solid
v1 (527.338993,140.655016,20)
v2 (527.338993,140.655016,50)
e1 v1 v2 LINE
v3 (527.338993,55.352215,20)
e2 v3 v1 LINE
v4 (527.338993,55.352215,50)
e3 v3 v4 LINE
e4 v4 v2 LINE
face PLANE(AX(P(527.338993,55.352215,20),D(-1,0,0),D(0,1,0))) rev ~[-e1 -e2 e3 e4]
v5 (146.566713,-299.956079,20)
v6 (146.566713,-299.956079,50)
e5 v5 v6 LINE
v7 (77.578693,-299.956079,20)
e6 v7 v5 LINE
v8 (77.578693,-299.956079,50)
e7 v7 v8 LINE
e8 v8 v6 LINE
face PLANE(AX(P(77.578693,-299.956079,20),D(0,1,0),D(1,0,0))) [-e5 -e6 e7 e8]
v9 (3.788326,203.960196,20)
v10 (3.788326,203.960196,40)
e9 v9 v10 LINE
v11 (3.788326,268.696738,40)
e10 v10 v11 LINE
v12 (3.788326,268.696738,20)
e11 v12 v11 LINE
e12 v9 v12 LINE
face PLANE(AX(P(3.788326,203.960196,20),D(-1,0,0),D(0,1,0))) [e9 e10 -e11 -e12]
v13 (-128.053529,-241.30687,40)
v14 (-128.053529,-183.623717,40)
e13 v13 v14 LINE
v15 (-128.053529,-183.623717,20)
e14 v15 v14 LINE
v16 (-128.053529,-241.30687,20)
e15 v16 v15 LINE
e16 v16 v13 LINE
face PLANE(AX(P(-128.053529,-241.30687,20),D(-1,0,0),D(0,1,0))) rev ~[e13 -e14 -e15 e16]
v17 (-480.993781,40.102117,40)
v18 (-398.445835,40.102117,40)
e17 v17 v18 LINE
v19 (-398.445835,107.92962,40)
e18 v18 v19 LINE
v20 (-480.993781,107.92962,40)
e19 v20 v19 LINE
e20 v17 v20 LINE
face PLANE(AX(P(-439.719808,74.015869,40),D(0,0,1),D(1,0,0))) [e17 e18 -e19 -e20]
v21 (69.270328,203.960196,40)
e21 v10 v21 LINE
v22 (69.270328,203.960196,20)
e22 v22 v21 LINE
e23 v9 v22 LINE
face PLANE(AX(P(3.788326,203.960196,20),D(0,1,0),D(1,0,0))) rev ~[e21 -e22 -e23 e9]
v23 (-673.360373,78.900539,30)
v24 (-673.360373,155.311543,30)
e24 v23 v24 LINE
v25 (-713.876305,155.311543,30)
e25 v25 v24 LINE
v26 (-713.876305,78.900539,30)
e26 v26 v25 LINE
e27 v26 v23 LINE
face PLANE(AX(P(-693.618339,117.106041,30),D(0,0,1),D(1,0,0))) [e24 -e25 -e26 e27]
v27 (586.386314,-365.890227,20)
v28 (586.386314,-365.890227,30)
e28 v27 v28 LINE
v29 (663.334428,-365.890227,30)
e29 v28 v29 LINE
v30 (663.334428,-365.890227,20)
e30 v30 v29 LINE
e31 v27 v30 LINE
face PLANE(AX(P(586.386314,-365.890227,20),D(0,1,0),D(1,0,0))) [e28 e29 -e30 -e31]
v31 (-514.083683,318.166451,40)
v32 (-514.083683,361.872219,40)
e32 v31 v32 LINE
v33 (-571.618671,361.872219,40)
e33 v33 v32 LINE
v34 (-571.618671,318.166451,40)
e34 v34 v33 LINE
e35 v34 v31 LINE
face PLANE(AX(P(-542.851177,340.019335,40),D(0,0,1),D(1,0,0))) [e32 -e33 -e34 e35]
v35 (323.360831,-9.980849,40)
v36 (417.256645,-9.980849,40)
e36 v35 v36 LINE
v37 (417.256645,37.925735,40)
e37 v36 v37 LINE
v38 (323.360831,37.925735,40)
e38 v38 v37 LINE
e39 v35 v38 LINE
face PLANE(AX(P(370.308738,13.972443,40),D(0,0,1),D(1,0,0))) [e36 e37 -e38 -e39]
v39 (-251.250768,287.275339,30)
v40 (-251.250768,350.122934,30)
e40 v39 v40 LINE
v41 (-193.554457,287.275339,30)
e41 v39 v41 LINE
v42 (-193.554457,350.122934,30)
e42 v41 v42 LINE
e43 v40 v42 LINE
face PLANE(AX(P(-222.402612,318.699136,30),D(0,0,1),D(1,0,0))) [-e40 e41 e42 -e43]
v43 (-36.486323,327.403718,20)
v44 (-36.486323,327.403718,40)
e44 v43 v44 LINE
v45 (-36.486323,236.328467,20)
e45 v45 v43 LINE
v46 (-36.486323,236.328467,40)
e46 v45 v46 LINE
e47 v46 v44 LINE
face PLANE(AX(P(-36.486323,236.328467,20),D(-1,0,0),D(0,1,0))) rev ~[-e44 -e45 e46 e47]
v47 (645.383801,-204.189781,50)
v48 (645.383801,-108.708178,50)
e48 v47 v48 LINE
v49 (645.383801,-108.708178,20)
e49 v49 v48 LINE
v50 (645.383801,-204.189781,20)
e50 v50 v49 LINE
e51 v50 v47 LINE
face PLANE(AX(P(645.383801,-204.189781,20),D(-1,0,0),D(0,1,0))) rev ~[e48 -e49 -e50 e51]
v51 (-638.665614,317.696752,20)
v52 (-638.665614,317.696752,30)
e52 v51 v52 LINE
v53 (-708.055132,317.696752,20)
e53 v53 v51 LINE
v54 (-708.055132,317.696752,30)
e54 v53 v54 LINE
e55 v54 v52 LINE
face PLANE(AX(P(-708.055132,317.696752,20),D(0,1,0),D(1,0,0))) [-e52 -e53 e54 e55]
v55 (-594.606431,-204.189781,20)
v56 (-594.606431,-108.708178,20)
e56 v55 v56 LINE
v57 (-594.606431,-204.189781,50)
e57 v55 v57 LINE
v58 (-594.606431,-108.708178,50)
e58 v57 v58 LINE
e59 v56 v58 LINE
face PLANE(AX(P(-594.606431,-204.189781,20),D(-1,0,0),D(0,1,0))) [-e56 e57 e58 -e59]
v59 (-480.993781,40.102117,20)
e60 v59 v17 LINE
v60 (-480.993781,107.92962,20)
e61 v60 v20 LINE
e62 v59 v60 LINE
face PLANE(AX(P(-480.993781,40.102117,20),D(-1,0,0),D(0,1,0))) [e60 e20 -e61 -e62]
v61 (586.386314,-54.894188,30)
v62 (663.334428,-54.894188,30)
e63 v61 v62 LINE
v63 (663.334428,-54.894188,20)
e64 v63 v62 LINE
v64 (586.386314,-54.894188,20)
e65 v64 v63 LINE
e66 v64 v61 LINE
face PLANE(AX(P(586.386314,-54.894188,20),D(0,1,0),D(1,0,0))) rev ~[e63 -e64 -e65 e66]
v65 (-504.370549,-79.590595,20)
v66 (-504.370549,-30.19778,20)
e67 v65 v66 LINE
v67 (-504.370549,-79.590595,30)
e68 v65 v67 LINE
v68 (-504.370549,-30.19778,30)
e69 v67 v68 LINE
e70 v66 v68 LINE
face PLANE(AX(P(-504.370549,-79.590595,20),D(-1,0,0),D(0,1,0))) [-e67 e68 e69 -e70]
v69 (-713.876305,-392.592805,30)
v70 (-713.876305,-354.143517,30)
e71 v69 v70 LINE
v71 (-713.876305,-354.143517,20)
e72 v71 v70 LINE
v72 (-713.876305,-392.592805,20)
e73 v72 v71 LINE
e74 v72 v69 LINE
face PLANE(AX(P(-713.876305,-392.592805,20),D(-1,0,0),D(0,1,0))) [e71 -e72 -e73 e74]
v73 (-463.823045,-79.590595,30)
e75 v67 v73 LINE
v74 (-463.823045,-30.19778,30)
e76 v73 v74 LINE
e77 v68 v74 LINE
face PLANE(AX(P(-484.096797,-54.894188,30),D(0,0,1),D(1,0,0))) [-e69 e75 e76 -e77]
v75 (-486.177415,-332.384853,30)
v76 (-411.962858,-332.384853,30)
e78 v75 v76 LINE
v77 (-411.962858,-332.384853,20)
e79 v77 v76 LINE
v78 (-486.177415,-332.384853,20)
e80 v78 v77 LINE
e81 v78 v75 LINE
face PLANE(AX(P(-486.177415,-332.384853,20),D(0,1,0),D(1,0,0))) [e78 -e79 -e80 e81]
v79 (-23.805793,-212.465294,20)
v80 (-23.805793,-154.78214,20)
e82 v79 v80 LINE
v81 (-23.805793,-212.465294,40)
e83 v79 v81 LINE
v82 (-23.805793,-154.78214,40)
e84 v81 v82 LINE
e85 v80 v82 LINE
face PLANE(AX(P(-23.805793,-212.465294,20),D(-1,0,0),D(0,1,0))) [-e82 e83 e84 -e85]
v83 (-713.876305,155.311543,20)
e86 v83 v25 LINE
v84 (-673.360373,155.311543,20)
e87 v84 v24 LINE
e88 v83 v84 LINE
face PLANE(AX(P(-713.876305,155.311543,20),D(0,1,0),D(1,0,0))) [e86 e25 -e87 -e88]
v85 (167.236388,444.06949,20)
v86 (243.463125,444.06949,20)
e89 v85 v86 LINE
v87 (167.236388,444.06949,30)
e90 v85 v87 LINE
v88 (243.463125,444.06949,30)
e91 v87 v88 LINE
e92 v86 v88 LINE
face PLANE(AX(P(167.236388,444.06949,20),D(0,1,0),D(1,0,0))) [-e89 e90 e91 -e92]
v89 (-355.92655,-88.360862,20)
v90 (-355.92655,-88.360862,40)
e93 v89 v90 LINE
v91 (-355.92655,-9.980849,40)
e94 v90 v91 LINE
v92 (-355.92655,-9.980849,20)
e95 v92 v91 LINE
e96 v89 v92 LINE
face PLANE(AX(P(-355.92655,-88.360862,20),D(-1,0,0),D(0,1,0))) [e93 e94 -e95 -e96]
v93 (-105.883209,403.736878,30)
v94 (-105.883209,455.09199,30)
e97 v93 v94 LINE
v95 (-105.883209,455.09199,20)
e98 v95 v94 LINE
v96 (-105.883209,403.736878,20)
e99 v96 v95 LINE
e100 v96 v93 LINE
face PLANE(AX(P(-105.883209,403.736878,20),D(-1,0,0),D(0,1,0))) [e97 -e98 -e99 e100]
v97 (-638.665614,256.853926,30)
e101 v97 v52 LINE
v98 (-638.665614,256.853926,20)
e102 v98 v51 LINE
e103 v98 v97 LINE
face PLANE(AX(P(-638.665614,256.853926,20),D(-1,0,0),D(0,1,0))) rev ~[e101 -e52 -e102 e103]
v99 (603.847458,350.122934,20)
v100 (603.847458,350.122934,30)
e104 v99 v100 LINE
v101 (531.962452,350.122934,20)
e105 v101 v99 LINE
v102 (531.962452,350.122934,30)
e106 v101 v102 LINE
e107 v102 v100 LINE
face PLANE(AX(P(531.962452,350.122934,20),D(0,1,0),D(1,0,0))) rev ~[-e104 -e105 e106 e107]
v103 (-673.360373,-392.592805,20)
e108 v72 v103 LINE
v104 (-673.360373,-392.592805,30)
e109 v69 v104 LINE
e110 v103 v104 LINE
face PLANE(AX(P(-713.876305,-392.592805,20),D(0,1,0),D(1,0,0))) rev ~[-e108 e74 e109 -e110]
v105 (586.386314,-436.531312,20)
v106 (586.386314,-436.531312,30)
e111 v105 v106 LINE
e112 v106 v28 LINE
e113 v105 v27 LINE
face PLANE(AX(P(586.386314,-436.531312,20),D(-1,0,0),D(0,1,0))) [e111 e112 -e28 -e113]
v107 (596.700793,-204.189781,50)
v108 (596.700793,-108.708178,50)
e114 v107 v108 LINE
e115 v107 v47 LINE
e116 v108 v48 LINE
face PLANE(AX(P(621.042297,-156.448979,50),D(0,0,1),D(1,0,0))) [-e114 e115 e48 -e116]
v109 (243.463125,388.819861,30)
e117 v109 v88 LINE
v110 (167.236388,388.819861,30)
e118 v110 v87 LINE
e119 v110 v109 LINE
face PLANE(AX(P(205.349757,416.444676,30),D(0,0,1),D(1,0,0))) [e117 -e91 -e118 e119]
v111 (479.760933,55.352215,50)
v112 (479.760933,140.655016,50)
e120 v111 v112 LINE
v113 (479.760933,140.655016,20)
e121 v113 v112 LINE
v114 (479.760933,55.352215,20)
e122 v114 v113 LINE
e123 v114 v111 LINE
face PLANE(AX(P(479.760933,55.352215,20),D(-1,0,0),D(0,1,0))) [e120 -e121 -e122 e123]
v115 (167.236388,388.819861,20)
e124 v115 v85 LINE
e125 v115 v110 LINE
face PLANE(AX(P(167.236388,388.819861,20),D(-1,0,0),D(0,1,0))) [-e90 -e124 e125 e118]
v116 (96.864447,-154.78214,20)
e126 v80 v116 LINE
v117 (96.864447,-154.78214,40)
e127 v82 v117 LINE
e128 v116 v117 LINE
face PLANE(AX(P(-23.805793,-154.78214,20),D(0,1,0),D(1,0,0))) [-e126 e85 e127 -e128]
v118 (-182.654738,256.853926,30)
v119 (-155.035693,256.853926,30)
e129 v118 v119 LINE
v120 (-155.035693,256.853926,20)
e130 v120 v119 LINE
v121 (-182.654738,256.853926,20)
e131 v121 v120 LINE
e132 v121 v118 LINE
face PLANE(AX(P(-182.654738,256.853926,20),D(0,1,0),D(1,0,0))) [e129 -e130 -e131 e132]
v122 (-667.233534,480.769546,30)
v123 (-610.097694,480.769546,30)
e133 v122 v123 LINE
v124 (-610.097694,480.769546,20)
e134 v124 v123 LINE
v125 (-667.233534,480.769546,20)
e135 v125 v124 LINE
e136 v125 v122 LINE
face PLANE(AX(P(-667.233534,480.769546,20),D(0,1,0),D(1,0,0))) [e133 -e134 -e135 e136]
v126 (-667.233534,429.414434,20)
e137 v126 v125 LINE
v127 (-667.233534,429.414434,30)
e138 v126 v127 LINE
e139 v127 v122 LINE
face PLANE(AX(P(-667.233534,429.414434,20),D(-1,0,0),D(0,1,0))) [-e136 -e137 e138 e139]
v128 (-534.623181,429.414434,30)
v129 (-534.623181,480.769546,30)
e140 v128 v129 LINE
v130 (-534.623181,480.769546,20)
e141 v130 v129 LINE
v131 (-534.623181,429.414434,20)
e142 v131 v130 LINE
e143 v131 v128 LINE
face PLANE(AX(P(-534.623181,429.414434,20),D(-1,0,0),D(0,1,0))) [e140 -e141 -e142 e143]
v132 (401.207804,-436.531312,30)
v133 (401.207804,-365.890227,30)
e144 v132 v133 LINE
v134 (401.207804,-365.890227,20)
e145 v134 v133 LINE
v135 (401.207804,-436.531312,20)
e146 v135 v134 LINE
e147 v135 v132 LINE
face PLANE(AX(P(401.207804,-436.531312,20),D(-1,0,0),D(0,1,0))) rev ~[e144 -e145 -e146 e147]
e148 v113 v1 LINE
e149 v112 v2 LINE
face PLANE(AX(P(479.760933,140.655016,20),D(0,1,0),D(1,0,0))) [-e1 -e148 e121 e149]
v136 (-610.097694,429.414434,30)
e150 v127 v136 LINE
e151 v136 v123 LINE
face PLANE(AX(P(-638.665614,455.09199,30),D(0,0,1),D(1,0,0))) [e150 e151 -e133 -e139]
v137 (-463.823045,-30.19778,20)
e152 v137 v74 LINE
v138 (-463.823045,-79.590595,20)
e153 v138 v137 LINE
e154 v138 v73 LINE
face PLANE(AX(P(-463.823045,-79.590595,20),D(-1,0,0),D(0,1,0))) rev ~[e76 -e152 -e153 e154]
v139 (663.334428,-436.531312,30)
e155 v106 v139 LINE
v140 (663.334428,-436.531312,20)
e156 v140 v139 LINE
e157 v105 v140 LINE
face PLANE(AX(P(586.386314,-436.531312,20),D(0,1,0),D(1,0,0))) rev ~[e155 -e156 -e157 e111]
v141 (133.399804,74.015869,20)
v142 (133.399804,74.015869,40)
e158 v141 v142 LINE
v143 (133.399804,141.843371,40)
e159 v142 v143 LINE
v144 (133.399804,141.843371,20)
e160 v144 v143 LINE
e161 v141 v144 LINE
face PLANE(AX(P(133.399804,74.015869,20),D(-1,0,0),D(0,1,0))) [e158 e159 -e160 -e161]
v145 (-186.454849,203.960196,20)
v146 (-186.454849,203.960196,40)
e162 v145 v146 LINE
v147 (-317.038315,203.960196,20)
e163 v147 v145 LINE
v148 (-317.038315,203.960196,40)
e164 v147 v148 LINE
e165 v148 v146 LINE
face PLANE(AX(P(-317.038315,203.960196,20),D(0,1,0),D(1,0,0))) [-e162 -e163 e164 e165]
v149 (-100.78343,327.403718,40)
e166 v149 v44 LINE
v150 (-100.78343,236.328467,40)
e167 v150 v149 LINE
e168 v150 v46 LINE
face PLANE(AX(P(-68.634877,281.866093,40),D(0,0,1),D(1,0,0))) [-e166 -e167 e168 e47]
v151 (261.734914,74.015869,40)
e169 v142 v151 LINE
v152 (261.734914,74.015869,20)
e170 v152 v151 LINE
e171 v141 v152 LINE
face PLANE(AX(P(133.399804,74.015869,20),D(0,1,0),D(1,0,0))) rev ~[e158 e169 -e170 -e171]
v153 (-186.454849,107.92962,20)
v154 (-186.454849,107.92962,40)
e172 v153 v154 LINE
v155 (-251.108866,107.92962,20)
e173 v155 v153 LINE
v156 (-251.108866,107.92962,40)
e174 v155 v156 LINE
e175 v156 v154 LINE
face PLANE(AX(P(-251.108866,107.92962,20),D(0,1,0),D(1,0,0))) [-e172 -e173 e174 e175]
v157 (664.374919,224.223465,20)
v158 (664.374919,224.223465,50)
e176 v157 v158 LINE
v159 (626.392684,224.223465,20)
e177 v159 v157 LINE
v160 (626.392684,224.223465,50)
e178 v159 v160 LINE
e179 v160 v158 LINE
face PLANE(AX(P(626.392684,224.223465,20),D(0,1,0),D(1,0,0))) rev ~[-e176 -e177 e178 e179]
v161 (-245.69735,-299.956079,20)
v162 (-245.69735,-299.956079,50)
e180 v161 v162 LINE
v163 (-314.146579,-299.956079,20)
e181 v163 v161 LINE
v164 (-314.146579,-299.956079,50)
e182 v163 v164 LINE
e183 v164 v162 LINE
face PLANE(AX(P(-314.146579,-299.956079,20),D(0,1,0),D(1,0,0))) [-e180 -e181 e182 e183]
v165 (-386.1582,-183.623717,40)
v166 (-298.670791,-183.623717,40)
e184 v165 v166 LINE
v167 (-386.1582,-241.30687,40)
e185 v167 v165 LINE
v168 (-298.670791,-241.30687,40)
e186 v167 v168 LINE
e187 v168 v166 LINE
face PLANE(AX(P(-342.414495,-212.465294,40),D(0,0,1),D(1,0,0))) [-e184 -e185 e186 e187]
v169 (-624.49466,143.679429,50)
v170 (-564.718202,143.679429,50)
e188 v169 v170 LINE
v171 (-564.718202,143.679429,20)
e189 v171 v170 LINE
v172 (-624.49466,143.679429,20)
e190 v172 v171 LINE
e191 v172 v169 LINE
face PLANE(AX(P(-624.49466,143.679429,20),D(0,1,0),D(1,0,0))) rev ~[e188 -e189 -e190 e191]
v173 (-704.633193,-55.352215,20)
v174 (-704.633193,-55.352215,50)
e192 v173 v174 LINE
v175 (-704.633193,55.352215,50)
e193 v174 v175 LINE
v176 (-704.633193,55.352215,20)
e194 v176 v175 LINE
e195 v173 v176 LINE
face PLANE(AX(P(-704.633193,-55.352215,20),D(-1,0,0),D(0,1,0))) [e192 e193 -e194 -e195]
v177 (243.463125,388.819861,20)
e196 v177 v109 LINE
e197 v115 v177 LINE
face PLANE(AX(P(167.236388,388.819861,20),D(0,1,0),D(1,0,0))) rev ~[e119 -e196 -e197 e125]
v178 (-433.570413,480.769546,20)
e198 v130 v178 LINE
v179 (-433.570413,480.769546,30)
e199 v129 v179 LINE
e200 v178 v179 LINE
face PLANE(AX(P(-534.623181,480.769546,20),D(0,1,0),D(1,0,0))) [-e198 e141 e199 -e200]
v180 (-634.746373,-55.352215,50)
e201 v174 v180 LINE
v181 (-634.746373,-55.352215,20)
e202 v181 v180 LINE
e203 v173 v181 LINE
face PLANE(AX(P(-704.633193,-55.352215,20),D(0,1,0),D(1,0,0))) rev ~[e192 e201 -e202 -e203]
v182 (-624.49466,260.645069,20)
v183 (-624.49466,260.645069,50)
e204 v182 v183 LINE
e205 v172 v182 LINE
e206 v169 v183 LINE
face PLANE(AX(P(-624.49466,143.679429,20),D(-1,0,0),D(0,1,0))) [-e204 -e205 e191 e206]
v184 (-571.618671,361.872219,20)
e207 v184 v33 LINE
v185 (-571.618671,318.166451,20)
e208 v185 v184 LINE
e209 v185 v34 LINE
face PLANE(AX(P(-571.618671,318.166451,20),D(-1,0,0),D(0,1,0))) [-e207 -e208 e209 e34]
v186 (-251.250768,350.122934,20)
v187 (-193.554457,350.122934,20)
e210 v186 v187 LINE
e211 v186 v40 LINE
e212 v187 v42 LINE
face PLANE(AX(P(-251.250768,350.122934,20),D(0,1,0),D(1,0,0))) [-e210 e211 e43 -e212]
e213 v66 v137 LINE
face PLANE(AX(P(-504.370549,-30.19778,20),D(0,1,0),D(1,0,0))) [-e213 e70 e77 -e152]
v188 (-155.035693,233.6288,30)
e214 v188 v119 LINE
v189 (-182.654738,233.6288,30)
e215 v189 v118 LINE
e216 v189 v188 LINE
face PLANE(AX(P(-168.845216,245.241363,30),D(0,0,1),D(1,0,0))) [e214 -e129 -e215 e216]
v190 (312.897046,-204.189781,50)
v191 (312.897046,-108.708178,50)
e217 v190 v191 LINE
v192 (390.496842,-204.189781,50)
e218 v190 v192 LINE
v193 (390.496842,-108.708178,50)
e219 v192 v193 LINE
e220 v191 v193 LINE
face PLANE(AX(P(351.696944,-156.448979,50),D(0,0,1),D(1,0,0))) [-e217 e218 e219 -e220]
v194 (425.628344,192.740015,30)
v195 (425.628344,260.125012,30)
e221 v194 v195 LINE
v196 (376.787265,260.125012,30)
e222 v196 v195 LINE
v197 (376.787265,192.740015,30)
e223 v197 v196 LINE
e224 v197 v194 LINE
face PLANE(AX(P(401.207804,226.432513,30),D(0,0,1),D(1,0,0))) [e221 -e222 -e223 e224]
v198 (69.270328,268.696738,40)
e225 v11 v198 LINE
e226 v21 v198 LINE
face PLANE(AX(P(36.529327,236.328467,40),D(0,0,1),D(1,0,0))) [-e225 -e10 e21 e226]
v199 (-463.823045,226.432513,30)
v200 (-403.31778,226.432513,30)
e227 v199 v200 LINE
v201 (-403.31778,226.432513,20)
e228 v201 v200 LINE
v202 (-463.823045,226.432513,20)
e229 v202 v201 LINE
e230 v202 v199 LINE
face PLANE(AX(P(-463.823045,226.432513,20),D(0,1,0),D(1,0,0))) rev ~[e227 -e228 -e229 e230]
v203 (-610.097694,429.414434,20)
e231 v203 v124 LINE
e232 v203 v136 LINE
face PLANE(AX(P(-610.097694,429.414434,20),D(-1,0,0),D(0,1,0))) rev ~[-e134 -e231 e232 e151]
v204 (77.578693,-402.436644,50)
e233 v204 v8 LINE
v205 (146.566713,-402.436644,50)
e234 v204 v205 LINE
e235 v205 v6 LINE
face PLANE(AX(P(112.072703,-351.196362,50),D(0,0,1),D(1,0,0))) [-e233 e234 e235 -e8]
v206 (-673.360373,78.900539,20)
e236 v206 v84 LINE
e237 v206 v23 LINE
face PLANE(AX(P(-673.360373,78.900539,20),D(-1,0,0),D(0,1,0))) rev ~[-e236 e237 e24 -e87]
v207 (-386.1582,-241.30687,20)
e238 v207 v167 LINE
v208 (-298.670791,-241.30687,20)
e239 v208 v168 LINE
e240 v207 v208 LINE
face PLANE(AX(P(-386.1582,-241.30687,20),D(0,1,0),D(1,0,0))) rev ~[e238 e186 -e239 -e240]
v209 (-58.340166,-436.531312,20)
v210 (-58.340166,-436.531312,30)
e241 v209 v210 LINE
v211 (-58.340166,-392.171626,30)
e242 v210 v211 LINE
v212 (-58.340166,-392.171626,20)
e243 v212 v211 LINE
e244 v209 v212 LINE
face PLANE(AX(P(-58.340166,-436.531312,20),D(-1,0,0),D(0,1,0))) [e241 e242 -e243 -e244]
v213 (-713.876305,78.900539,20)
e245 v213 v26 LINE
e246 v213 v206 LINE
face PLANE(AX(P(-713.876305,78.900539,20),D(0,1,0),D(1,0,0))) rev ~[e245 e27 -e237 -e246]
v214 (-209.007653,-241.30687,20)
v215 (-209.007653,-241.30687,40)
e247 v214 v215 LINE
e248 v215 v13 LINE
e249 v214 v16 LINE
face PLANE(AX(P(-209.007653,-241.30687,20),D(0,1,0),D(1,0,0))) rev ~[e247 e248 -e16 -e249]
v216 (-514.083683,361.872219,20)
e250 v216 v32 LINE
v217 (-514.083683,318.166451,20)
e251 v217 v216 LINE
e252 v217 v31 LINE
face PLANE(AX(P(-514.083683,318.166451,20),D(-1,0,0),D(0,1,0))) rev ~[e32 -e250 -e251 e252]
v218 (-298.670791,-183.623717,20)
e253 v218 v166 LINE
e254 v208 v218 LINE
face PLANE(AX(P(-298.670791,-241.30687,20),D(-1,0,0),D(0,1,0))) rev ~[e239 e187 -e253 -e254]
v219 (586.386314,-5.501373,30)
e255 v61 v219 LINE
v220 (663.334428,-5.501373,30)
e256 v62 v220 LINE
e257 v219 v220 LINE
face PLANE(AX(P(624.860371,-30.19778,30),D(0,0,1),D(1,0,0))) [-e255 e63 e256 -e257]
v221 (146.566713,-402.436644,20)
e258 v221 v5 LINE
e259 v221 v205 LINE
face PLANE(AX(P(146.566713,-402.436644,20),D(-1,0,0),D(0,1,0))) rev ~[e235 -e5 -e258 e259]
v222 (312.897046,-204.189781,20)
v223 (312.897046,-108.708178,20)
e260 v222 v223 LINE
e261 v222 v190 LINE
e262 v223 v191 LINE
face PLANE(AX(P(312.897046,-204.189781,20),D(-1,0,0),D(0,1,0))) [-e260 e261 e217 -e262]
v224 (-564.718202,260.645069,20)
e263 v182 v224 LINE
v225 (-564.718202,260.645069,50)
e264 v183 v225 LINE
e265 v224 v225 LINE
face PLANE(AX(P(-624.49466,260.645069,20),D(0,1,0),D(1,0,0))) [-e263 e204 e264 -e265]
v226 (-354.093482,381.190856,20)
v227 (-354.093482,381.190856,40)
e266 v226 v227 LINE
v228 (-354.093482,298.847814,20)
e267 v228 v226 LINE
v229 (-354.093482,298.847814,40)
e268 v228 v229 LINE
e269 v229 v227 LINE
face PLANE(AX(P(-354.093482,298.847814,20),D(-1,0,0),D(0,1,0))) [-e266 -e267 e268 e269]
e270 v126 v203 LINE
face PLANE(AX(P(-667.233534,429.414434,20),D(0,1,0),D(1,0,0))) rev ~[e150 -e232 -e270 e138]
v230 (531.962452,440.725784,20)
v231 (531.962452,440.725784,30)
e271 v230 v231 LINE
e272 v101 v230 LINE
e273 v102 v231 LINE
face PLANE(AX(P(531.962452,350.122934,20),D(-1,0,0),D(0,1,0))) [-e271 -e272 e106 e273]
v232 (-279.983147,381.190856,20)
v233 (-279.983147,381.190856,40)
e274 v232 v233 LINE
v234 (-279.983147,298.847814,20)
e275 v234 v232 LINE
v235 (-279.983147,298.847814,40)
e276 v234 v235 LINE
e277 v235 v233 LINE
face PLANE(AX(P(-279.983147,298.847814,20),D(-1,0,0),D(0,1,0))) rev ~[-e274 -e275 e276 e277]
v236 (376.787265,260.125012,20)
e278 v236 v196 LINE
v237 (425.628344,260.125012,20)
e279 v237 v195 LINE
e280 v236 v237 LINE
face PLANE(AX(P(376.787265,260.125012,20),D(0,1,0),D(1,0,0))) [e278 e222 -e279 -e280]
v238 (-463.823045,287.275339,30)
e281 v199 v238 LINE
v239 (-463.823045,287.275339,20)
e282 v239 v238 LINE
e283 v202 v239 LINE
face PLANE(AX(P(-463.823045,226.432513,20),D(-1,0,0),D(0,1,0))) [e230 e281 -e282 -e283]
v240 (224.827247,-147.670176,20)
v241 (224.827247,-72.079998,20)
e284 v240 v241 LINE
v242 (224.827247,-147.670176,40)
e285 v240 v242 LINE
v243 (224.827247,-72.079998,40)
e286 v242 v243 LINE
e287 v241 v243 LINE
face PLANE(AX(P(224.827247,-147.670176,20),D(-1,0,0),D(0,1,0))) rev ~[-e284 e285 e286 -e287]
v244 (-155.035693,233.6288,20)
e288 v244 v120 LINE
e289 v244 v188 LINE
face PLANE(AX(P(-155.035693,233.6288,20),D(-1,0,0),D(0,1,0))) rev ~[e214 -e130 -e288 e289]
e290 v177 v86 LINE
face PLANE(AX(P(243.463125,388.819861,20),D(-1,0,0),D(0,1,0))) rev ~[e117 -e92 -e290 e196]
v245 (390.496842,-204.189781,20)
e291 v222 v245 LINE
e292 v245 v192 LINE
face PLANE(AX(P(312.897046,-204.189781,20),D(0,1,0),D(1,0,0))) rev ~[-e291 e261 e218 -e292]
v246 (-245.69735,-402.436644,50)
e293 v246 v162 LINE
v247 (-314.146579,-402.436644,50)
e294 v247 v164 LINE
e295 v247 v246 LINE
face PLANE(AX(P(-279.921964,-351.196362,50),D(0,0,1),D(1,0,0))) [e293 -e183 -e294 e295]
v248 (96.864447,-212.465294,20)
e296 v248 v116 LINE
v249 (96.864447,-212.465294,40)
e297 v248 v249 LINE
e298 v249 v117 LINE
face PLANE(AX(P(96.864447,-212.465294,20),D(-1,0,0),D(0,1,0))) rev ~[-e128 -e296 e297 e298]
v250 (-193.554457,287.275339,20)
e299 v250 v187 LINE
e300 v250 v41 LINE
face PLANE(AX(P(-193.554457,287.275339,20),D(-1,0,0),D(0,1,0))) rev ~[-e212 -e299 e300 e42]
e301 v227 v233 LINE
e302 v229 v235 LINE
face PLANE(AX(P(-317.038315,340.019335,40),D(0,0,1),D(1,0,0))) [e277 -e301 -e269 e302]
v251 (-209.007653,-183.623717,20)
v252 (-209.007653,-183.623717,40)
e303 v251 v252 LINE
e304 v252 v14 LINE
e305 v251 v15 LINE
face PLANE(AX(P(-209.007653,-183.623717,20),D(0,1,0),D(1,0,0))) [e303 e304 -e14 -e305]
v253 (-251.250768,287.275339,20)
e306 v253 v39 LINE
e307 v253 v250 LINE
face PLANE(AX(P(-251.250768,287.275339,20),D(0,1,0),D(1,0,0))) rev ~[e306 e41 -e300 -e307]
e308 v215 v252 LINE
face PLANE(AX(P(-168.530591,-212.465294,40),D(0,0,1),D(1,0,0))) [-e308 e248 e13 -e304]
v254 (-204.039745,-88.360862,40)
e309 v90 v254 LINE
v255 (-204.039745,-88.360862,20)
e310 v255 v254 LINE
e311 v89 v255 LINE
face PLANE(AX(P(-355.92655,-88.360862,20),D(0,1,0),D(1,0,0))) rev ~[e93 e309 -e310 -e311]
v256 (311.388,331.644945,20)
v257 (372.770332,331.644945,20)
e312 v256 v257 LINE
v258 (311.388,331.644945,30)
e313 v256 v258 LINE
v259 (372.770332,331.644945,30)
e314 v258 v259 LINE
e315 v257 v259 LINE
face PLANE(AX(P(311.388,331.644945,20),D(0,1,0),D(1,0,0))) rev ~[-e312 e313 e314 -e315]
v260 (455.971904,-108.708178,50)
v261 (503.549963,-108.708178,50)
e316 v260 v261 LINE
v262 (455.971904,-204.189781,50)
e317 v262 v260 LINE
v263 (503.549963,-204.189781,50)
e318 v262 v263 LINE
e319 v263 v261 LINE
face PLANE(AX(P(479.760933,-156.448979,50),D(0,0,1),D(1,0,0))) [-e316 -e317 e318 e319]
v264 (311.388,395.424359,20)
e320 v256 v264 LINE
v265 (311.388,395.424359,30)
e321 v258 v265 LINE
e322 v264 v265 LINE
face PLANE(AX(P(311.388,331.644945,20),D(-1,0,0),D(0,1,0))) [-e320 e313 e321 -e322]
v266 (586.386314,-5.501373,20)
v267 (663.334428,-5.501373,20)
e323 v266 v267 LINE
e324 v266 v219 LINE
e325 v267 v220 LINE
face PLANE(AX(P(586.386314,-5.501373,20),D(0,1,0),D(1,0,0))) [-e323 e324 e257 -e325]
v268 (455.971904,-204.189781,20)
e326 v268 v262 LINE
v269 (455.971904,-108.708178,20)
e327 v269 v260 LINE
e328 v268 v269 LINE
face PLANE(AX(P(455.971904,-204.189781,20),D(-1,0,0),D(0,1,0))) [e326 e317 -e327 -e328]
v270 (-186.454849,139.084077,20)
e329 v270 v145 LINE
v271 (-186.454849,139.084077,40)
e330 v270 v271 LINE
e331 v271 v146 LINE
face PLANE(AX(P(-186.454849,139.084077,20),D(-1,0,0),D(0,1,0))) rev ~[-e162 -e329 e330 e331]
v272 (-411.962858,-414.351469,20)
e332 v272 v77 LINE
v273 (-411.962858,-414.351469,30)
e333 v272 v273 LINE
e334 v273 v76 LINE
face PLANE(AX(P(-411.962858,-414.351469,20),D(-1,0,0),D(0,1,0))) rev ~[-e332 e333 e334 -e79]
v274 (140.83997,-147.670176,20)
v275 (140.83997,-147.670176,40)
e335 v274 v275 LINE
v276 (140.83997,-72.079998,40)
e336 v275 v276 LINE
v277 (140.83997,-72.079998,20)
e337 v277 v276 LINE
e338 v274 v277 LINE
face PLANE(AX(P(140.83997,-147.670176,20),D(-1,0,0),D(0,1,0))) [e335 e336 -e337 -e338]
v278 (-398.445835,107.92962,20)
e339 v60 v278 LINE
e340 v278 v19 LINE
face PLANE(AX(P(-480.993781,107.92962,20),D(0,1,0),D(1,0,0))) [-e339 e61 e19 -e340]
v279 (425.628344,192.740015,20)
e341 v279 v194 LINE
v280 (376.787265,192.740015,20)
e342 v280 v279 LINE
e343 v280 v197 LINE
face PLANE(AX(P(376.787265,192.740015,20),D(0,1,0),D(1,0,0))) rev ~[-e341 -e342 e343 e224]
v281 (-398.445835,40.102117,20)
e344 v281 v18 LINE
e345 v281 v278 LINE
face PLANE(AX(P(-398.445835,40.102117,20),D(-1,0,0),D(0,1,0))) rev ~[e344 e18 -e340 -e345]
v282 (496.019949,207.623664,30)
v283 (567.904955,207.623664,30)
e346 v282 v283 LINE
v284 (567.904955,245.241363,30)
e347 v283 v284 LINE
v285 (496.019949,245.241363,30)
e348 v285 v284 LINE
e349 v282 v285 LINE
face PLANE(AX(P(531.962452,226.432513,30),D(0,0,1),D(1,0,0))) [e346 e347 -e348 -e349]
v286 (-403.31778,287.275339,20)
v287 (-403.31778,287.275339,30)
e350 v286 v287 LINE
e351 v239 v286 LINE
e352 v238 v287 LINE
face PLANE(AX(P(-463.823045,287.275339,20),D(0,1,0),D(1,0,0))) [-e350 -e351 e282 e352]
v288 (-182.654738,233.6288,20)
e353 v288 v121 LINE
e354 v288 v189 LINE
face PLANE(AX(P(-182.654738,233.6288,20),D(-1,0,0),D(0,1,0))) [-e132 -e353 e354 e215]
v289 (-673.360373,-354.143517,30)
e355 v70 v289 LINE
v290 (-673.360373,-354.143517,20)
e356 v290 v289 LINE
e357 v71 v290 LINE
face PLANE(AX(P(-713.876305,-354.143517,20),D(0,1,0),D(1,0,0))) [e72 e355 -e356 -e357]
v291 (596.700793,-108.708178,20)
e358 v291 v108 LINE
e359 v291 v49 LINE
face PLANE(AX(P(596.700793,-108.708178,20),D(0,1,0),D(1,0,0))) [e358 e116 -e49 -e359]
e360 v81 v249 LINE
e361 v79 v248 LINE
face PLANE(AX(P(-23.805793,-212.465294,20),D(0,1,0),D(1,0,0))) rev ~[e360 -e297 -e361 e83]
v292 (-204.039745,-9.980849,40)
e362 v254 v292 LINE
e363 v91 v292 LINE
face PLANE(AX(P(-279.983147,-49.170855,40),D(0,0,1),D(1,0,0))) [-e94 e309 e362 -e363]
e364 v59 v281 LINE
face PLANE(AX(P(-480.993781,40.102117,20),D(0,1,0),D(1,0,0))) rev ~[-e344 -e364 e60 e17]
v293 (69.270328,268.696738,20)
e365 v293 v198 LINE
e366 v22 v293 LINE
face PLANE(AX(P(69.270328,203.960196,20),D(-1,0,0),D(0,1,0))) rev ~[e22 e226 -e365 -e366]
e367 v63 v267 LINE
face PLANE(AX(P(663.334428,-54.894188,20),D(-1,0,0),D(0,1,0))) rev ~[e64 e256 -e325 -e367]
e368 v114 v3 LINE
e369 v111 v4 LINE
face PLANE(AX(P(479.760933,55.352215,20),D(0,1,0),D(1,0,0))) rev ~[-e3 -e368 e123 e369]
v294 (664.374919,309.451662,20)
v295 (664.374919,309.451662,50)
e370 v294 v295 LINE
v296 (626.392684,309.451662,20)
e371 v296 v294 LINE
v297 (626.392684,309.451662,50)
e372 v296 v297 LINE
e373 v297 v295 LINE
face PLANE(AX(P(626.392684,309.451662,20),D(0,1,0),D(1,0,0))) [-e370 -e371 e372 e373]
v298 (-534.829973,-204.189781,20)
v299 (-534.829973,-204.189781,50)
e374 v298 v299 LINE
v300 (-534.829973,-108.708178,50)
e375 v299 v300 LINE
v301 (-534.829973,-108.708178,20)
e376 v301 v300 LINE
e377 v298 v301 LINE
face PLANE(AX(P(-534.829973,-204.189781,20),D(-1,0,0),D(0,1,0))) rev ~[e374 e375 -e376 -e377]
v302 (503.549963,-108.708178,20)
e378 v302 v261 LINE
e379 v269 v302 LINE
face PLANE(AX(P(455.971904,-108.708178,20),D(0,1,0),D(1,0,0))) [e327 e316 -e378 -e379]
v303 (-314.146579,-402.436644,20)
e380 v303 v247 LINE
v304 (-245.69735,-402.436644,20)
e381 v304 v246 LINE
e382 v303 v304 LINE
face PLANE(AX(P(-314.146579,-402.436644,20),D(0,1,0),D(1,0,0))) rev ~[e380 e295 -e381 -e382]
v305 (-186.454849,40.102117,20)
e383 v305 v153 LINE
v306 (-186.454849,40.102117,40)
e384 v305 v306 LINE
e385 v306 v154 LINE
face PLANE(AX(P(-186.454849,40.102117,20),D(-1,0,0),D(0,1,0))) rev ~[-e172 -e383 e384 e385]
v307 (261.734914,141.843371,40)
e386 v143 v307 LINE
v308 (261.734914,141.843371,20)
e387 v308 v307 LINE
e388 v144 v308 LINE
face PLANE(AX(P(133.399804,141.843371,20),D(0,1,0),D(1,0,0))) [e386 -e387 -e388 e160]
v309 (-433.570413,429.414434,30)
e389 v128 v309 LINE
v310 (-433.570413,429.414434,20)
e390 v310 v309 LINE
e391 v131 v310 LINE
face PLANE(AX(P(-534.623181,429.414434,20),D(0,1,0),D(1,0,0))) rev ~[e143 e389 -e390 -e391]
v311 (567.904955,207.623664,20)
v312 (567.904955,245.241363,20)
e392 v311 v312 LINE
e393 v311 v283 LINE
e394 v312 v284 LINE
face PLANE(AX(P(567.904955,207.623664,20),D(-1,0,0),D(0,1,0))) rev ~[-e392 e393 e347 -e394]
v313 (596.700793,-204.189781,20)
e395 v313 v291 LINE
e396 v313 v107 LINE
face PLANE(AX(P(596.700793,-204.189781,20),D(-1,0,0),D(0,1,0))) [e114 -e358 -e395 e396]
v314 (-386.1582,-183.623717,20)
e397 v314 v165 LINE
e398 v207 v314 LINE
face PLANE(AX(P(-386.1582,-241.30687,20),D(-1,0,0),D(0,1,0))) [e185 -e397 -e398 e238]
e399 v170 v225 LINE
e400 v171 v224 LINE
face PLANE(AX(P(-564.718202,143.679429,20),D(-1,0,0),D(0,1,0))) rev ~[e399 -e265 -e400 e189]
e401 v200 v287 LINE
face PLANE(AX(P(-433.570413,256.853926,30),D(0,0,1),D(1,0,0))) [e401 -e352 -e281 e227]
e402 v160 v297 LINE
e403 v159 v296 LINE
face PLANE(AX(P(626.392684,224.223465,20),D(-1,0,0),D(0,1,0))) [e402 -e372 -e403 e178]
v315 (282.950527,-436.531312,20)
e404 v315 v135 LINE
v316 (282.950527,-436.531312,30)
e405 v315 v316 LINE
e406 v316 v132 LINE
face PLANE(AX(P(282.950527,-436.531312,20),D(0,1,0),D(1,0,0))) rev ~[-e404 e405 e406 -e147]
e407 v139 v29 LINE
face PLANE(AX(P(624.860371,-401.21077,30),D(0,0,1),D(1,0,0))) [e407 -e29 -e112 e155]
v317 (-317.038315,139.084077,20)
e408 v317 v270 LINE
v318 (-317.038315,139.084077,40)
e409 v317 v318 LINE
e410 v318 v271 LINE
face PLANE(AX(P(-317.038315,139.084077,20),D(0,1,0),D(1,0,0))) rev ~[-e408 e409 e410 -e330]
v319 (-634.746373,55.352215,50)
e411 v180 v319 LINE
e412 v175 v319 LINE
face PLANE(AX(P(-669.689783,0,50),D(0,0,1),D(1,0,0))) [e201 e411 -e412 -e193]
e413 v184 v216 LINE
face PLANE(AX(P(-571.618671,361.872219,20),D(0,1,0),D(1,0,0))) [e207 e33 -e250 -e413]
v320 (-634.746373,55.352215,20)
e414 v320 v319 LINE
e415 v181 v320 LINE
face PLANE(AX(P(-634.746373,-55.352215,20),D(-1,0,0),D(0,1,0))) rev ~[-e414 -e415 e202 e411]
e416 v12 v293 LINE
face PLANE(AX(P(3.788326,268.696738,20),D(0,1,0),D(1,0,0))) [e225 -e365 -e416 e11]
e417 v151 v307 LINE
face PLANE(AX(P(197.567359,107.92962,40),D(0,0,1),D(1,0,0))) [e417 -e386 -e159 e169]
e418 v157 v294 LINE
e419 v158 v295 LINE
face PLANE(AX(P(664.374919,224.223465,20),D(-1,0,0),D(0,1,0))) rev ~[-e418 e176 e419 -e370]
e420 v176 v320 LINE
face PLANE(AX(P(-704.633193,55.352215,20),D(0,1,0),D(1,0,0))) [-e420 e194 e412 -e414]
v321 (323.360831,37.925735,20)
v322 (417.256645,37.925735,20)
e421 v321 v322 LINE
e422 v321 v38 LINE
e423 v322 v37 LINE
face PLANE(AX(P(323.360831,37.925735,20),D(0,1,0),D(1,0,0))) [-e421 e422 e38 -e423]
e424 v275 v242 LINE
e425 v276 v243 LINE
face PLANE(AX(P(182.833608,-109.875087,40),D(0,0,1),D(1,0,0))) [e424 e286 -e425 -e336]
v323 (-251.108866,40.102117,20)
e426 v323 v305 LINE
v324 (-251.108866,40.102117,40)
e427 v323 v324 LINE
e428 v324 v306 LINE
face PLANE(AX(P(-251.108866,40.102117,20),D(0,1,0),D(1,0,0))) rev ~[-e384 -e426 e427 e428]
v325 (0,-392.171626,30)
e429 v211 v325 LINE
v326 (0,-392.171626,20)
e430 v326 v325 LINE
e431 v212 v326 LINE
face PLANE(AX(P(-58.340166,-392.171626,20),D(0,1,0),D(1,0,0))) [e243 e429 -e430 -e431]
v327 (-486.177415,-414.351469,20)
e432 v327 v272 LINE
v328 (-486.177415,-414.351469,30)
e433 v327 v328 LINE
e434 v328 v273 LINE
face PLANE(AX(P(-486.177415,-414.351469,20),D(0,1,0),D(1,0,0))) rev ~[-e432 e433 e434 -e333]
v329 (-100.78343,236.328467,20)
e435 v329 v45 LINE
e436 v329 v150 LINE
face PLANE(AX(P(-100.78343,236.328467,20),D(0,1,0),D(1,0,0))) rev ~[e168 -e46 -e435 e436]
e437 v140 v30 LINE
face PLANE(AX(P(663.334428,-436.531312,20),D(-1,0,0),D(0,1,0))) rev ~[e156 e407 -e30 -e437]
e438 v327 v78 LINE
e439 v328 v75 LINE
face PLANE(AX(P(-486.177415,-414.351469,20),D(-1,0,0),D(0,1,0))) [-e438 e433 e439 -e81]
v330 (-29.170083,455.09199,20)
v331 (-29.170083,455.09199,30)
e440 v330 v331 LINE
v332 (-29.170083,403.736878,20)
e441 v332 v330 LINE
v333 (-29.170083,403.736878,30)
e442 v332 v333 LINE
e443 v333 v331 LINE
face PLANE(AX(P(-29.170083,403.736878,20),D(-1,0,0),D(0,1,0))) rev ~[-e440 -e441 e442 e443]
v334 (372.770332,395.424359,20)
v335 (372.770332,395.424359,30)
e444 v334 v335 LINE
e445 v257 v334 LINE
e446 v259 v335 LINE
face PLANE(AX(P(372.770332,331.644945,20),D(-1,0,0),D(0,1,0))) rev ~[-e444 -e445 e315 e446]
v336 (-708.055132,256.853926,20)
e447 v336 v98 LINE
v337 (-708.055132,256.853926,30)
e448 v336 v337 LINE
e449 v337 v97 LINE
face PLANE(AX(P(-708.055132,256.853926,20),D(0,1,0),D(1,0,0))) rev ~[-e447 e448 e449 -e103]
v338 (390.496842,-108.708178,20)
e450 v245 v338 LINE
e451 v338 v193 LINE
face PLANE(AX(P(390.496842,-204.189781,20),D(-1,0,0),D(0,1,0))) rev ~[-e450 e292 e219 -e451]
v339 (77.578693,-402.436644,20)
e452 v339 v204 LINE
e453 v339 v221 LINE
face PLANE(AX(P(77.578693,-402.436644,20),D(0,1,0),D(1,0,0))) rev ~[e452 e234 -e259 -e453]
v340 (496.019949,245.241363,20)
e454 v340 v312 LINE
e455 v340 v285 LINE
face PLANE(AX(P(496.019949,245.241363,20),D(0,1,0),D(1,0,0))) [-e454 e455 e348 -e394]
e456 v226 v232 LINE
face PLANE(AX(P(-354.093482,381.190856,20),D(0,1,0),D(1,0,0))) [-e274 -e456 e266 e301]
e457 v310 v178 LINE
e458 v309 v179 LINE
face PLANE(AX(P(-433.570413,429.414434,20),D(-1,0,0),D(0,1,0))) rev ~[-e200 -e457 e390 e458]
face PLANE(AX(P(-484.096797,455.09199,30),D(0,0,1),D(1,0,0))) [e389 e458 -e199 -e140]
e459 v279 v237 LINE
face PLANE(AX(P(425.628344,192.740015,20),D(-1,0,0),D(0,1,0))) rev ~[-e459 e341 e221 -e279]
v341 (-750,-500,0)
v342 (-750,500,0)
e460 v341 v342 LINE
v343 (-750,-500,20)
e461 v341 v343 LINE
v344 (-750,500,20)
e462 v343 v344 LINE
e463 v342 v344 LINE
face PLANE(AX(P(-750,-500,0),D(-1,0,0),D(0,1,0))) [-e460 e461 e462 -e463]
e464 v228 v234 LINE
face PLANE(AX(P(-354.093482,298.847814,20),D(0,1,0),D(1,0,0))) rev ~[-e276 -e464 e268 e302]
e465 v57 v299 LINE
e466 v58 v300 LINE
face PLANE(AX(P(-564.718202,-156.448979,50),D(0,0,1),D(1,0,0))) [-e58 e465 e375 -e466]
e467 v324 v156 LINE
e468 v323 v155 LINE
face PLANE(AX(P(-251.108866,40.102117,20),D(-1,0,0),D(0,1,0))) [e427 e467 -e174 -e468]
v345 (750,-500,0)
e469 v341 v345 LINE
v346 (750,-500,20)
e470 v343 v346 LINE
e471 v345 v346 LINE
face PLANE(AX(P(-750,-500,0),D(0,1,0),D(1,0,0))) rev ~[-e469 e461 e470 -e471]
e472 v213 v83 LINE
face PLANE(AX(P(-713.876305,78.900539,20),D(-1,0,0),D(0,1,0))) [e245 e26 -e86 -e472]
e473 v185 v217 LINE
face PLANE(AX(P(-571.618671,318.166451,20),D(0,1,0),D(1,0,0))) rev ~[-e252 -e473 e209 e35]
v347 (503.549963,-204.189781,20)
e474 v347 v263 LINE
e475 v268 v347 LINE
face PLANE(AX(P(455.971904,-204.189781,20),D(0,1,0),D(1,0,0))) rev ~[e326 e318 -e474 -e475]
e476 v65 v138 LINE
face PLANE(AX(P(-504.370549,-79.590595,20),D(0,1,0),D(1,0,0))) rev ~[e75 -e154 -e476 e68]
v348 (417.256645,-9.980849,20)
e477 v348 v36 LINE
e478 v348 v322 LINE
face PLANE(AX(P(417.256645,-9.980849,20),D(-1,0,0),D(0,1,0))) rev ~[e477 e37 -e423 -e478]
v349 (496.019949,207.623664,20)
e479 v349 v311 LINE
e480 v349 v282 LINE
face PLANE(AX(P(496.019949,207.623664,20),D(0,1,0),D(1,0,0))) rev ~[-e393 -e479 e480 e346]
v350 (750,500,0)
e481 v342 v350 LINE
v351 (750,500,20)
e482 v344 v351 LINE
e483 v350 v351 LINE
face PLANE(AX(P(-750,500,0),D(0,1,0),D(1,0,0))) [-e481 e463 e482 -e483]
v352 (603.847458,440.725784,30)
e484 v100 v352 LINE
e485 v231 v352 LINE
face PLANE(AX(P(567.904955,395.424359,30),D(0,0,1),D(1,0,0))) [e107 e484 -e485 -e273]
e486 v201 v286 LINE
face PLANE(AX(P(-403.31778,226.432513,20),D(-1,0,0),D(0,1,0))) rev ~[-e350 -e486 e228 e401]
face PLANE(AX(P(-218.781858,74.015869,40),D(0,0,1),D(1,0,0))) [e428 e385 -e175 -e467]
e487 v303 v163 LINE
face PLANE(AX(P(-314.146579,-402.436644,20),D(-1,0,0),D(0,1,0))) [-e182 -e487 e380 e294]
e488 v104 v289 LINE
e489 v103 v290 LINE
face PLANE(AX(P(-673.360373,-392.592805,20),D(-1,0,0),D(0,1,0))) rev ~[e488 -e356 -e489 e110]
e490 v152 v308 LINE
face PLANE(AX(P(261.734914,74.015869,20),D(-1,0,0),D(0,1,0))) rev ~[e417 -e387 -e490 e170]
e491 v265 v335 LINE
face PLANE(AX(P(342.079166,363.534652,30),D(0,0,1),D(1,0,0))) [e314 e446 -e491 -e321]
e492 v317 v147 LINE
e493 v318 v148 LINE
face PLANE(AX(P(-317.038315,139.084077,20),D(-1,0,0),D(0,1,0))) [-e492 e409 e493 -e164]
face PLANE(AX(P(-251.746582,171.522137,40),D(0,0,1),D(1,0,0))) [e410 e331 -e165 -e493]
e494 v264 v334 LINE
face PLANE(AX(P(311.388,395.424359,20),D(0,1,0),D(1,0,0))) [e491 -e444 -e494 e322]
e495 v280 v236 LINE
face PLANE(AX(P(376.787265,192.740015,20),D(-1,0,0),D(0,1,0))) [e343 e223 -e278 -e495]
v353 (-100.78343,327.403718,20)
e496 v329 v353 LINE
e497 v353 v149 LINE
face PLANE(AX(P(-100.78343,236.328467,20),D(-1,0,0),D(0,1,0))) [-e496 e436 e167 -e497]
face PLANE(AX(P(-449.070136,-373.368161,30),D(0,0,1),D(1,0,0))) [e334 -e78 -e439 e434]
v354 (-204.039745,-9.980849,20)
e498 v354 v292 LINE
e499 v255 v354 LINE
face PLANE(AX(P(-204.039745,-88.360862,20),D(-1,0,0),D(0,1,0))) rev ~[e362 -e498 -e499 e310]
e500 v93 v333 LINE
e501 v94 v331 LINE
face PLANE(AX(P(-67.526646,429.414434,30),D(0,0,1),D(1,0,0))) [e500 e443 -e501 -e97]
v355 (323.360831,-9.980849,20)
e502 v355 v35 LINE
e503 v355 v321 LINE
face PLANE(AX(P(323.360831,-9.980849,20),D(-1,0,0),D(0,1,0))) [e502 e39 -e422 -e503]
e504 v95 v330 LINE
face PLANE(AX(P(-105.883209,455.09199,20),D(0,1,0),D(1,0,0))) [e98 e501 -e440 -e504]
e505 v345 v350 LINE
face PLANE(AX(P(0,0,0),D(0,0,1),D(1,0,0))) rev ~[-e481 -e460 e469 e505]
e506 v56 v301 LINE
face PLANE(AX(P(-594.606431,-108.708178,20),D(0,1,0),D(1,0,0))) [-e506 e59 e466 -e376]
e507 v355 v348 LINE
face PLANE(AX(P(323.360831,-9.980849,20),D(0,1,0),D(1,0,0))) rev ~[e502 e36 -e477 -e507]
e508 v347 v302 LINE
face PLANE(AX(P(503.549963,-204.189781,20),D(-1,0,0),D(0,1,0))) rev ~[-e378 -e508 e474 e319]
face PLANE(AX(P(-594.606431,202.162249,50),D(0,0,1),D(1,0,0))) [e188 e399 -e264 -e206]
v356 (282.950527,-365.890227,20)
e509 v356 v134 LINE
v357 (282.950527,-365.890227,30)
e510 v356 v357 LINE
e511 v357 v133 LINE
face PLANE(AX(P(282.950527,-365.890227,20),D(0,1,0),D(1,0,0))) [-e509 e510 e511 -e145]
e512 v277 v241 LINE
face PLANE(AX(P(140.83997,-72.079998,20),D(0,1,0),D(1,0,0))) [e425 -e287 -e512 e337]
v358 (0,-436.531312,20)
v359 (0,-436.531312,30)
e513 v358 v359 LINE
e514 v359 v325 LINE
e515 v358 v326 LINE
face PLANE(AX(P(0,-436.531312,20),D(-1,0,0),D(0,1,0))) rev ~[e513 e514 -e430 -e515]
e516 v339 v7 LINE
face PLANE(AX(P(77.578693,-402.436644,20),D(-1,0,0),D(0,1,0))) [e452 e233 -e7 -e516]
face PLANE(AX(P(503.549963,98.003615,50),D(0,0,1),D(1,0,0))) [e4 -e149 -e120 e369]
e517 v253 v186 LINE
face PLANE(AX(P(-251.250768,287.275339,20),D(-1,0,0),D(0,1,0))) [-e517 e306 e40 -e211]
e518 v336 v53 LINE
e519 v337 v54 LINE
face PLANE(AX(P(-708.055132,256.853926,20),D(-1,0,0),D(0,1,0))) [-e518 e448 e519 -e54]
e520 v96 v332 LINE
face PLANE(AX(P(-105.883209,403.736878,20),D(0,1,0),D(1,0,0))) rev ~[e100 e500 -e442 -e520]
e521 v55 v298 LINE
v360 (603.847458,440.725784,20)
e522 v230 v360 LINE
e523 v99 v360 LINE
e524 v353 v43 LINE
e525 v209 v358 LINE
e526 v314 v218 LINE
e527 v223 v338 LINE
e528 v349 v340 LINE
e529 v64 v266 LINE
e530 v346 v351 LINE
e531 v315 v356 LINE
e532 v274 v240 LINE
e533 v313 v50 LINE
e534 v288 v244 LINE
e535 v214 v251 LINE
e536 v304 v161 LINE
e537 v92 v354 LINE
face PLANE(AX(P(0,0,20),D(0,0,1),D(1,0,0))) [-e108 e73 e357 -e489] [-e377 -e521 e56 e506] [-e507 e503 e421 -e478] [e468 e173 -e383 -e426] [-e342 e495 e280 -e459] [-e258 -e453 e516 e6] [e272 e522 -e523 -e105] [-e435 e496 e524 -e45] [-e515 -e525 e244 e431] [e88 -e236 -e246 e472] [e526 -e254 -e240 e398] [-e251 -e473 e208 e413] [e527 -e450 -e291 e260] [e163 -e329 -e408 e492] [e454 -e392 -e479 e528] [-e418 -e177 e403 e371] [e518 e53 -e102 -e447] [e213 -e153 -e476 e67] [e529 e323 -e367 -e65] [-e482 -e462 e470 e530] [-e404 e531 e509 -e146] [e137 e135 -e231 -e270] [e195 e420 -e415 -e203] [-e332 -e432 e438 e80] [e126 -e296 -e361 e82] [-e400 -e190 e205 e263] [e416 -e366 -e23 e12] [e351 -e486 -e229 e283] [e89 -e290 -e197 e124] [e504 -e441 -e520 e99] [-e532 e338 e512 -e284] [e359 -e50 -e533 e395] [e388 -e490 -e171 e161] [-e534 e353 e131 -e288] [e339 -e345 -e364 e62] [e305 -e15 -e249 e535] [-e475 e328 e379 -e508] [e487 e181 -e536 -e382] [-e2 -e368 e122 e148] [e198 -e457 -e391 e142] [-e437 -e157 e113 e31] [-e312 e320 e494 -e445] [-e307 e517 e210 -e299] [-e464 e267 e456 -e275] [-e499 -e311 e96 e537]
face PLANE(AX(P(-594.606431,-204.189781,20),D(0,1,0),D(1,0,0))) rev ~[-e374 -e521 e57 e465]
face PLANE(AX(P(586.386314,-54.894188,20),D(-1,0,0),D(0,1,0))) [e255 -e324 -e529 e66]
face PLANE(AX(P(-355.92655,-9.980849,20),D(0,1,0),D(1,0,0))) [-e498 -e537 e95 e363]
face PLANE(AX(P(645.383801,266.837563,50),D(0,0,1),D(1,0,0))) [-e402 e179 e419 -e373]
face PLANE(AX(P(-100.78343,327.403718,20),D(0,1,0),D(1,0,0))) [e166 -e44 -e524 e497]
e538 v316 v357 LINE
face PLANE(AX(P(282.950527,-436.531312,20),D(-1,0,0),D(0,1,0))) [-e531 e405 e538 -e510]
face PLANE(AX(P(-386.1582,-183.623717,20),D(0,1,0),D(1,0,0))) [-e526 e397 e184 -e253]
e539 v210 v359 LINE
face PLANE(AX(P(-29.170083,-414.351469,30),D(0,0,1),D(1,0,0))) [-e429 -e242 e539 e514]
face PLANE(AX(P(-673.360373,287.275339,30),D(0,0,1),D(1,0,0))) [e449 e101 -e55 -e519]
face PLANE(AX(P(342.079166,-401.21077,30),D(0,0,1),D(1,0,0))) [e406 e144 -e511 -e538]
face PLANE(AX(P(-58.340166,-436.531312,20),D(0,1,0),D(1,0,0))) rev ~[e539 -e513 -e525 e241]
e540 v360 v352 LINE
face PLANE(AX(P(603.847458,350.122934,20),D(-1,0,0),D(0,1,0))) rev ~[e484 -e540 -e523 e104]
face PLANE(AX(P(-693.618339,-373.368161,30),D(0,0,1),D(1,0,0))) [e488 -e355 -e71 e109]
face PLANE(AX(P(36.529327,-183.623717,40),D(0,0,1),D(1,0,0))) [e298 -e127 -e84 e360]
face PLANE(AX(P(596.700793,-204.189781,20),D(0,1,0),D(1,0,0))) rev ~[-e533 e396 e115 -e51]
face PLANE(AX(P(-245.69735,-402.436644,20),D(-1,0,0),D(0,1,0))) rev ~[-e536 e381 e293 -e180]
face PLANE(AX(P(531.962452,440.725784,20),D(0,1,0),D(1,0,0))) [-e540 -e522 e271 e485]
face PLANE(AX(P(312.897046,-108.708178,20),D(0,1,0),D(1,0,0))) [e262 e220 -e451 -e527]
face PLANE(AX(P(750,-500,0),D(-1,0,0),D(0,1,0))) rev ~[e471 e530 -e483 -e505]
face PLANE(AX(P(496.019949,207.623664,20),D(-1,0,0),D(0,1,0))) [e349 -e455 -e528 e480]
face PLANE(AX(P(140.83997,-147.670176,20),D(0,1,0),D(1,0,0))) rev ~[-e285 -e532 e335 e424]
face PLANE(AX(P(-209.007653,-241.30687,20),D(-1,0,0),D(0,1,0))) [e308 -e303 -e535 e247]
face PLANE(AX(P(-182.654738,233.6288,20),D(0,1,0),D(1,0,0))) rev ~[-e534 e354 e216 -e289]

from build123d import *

# Parameters (mm, degrees)
SKETCH1_W           = 1500
SKETCH1_H           = 1000
BOSS_EXTRUDE1_DEPTH = 20
SKETCH3_W           = 130.583465718
SKETCH3_H           = 64.876118669
SKETCH3_W_2         = 151.886805153
SKETCH3_H_2         = 78.380013136
SKETCH3_W_3         = 57.534988715
SKETCH3_H_3         = 43.705768465
SKETCH3_W_4         = 74.110334533
SKETCH3_H_4         = 82.34304237
SKETCH3_W_5         = 64.654017388
SKETCH3_H_5         = 67.827502209
SKETCH3_W_6         = 64.297106784
SKETCH3_H_6         = 91.075250697
SKETCH3_W_7         = 65.482001899
SKETCH3_H_7         = 64.736542468
SKETCH3_W_8         = 82.547946155
SKETCH3_W_9         = 87.487408933
SKETCH3_H_8         = 57.683153916
SKETCH3_W_10        = 80.954123825
SKETCH3_W_11        = 120.670239475
SKETCH3_H_9         = 57.683153915
SKETCH3_W_12        = 83.987277467
SKETCH3_H_10        = 75.590177997
SKETCH3_W_13        = 128.335110014
SKETCH3_W_14        = 93.895814637
SKETCH3_H_11        = 47.906584006
BOSS_EXTRUDE3_DEPTH = 20
SKETCH4_W           = 60.505265175
SKETCH4_H           = 60.84282539
SKETCH4_W_2         = 76.713126156
SKETCH4_H_2         = 51.355111613
SKETCH4_W_3         = 57.696310853
SKETCH4_H_3         = 62.84759502
SKETCH4_W_4         = 76.226737233
SKETCH4_H_4         = 55.249628907
SKETCH4_W_5         = 61.382331515
SKETCH4_H_5         = 63.779413286
SKETCH4_W_6         = 71.885005533
SKETCH4_H_6         = 90.602849637
SKETCH4_H_7         = 37.617699495
SKETCH4_W_7         = 48.841078423
SKETCH4_H_8         = 67.384996511
SKETCH4_W_8         = 40.547503332
SKETCH4_H_9         = 49.392814631
SKETCH4_W_9         = 69.389518135
SKETCH4_W_10        = 57.1358405
SKETCH4_H_10        = 51.355111612
SKETCH4_W_11        = 101.052768507
SKETCH4_W_12        = 40.515931739
SKETCH4_H_11        = 76.411004612
SKETCH4_H_12        = 38.449288518
SKETCH4_W_13        = 76.948114593
SKETCH4_H_13        = 70.641085592
SKETCH4_W_14        = 58.340165638
SKETCH4_H_14        = 44.359686403
SKETCH4_W_15        = 74.214557021
SKETCH4_H_15        = 81.96661596
SKETCH4_W_16        = 118.257277251
SKETCH4_H_16        = 49.39281463
SKETCH4_W_17        = 27.61904506
SKETCH4_H_17        = 23.225125894
BOSS_EXTRUDE4_DEPTH = 10
SKETCH5_W           = 69.886820182
SKETCH5_H           = 110.704429614
SKETCH5_W_2         = 59.776457901
SKETCH5_H_2         = 116.965640553
SKETCH5_W_3         = 59.776457902
SKETCH5_H_3         = 95.481603563
SKETCH5_W_4         = 77.599796587
SKETCH5_W_5         = 68.98801997
SKETCH5_H_4         = 102.480565549
SKETCH5_W_6         = 68.449228886
SKETCH5_W_7         = 47.578059456
SKETCH5_H_5         = 85.302800806
SKETCH5_W_8         = 48.683008491
SKETCH5_W_9         = 37.982235028
SKETCH5_H_6         = 85.228197854
BOSS_EXTRUDE5_DEPTH = 30


with BuildPart() as part:
    # Sketch1 → Boss-Extrude1 (new body)
    with BuildSketch(Plane.XY):
        Rectangle(SKETCH1_W, SKETCH1_H)
    extrude(amount=BOSS_EXTRUDE1_DEPTH)

    # Sketch3 → Boss-Extrude3 (add)
    with BuildSketch(Plane.XY.offset(20)):
        with Locations((-251.746581796, 171.52213666)):
            Rectangle(SKETCH3_W, SKETCH3_H)
        with Locations((-279.983147389, -49.170855385)):
            Rectangle(SKETCH3_W_2, SKETCH3_H_2)
        with Locations((-542.851177133, 340.019335173)):
            Rectangle(SKETCH3_W_3, SKETCH3_H_3)
        with Locations((-317.038314656, 340.019335173)):
            Rectangle(SKETCH3_W_4, SKETCH3_H_4)
        with Locations((-218.781857631, 74.01586859)):
            Rectangle(SKETCH3_W_5, SKETCH3_H_5)
        with Locations((-68.634876688, 281.866092578)):
            Rectangle(SKETCH3_W_6, SKETCH3_H_6)
        with Locations((36.529327217, 236.328467229)):
            Rectangle(SKETCH3_W_7, SKETCH3_H_7)
        with Locations((-439.71980811, 74.01586859)):
            Rectangle(SKETCH3_W_8, SKETCH3_H_5)
        with Locations((-342.414495233, -212.465293534)):
            Rectangle(SKETCH3_W_9, SKETCH3_H_8)
        with Locations((-168.530590972, -212.465293534)):
            Rectangle(SKETCH3_W_10, SKETCH3_H_8)
        with Locations((36.529327217, -183.623716577)):
            Rectangle(SKETCH3_W_11, SKETCH3_H_9)
        with Locations((182.83360839, -109.875086681)):
            Rectangle(SKETCH3_W_12, SKETCH3_H_10)
        with Locations((197.567359377, 107.929619695)):
            Rectangle(SKETCH3_W_13, SKETCH3_H_5)
        with Locations((370.308737898, 13.972443186)):
            Rectangle(SKETCH3_W_14, SKETCH3_H_11)
    extrude(amount=BOSS_EXTRUDE3_DEPTH)

    # Sketch4 → Boss-Extrude4 (add)
    with BuildSketch(Plane.XY.offset(20)):
        with Locations((-433.57041273, 256.853926164)):
            Rectangle(SKETCH4_W, SKETCH4_H)
        with Locations((-67.526645897, 429.414434023)):
            Rectangle(SKETCH4_W_2, SKETCH4_H_2)
        with Locations((-222.402612467, 318.699136369)):
            Rectangle(SKETCH4_W_3, SKETCH4_H_3)
        with Locations((205.349756633, 416.444675835)):
            Rectangle(SKETCH4_W_4, SKETCH4_H_4)
        with Locations((342.079165749, 363.534652055)):
            Rectangle(SKETCH4_W_5, SKETCH4_H_5)
        with Locations((567.90495485, 395.424358697)):
            Rectangle(SKETCH4_W_6, SKETCH4_H_6)
        with Locations((531.962452085, 226.43251347)):
            Rectangle(SKETCH4_W_6, SKETCH4_H_7)
        with Locations((401.207804375, 226.43251347)):
            Rectangle(SKETCH4_W_7, SKETCH4_H_8)
        with Locations((-484.096796983, -54.894187693)):
            Rectangle(SKETCH4_W_8, SKETCH4_H_9)
        with Locations((-673.360372997, 287.275338859)):
            Rectangle(SKETCH4_W_9, SKETCH4_H)
        with Locations((-638.665613929, 455.091989829)):
            Rectangle(SKETCH4_W_10, SKETCH4_H_10)
        with Locations((-484.096796983, 455.091989829)):
            Rectangle(SKETCH4_W_11, SKETCH4_H_10)
        with Locations((-693.618338867, 117.106041113)):
            Rectangle(SKETCH4_W_12, SKETCH4_H_11)
        with Locations((-693.618338867, -373.3681612)):
            Rectangle(SKETCH4_W_12, SKETCH4_H_12)
        with Locations((624.860370913, -401.210769585)):
            Rectangle(SKETCH4_W_13, SKETCH4_H_13)
        with Locations((-29.170082819, -414.351469179)):
            Rectangle(SKETCH4_W_14, SKETCH4_H_14)
        with Locations((-449.070136402, -373.3681612)):
            Rectangle(SKETCH4_W_15, SKETCH4_H_15)
        with Locations((342.079165749, -401.210769585)):
            Rectangle(SKETCH4_W_16, SKETCH4_H_13)
        with Locations((624.860370913, -30.197780377)):
            Rectangle(SKETCH4_W_13, SKETCH4_H_16)
        with Locations((-168.845215562, 245.241363217)):
            Rectangle(SKETCH4_W_17, SKETCH4_H_17)
    extrude(amount=BOSS_EXTRUDE4_DEPTH)

    # Sketch5 → Boss-Extrude5 (add)
    with BuildSketch(Plane.XY.offset(20)):
        with Locations((-669.689782814, 0)):
            Rectangle(SKETCH5_W, SKETCH5_H)
        with Locations((-594.606430914, 202.16224879)):
            Rectangle(SKETCH5_W_2, SKETCH5_H_2)
        with Locations((-564.718201963, -156.448979485)):
            Rectangle(SKETCH5_W_3, SKETCH5_H_3)
        with Locations((351.696943904, -156.448979485)):
            Rectangle(SKETCH5_W_4, SKETCH5_H_3)
        with Locations((112.072703345, -351.196361502)):
            Rectangle(SKETCH5_W_5, SKETCH5_H_4)
        with Locations((-279.921964377, -351.196361502)):
            Rectangle(SKETCH5_W_6, SKETCH5_H_4)
        with Locations((503.549963007, 98.00361521)):
            Rectangle(SKETCH5_W_7, SKETCH5_H_5)
        with Locations((479.760933279, -156.448979485)):
            Rectangle(SKETCH5_W_7, SKETCH5_H_3)
        with Locations((621.042297234, -156.448979485)):
            Rectangle(SKETCH5_W_8, SKETCH5_H_3)
        with Locations((645.38380148, 266.83756344)):
            Rectangle(SKETCH5_W_9, SKETCH5_H_6)
    extrude(amount=BOSS_EXTRUDE5_DEPTH)


solid = part.part
